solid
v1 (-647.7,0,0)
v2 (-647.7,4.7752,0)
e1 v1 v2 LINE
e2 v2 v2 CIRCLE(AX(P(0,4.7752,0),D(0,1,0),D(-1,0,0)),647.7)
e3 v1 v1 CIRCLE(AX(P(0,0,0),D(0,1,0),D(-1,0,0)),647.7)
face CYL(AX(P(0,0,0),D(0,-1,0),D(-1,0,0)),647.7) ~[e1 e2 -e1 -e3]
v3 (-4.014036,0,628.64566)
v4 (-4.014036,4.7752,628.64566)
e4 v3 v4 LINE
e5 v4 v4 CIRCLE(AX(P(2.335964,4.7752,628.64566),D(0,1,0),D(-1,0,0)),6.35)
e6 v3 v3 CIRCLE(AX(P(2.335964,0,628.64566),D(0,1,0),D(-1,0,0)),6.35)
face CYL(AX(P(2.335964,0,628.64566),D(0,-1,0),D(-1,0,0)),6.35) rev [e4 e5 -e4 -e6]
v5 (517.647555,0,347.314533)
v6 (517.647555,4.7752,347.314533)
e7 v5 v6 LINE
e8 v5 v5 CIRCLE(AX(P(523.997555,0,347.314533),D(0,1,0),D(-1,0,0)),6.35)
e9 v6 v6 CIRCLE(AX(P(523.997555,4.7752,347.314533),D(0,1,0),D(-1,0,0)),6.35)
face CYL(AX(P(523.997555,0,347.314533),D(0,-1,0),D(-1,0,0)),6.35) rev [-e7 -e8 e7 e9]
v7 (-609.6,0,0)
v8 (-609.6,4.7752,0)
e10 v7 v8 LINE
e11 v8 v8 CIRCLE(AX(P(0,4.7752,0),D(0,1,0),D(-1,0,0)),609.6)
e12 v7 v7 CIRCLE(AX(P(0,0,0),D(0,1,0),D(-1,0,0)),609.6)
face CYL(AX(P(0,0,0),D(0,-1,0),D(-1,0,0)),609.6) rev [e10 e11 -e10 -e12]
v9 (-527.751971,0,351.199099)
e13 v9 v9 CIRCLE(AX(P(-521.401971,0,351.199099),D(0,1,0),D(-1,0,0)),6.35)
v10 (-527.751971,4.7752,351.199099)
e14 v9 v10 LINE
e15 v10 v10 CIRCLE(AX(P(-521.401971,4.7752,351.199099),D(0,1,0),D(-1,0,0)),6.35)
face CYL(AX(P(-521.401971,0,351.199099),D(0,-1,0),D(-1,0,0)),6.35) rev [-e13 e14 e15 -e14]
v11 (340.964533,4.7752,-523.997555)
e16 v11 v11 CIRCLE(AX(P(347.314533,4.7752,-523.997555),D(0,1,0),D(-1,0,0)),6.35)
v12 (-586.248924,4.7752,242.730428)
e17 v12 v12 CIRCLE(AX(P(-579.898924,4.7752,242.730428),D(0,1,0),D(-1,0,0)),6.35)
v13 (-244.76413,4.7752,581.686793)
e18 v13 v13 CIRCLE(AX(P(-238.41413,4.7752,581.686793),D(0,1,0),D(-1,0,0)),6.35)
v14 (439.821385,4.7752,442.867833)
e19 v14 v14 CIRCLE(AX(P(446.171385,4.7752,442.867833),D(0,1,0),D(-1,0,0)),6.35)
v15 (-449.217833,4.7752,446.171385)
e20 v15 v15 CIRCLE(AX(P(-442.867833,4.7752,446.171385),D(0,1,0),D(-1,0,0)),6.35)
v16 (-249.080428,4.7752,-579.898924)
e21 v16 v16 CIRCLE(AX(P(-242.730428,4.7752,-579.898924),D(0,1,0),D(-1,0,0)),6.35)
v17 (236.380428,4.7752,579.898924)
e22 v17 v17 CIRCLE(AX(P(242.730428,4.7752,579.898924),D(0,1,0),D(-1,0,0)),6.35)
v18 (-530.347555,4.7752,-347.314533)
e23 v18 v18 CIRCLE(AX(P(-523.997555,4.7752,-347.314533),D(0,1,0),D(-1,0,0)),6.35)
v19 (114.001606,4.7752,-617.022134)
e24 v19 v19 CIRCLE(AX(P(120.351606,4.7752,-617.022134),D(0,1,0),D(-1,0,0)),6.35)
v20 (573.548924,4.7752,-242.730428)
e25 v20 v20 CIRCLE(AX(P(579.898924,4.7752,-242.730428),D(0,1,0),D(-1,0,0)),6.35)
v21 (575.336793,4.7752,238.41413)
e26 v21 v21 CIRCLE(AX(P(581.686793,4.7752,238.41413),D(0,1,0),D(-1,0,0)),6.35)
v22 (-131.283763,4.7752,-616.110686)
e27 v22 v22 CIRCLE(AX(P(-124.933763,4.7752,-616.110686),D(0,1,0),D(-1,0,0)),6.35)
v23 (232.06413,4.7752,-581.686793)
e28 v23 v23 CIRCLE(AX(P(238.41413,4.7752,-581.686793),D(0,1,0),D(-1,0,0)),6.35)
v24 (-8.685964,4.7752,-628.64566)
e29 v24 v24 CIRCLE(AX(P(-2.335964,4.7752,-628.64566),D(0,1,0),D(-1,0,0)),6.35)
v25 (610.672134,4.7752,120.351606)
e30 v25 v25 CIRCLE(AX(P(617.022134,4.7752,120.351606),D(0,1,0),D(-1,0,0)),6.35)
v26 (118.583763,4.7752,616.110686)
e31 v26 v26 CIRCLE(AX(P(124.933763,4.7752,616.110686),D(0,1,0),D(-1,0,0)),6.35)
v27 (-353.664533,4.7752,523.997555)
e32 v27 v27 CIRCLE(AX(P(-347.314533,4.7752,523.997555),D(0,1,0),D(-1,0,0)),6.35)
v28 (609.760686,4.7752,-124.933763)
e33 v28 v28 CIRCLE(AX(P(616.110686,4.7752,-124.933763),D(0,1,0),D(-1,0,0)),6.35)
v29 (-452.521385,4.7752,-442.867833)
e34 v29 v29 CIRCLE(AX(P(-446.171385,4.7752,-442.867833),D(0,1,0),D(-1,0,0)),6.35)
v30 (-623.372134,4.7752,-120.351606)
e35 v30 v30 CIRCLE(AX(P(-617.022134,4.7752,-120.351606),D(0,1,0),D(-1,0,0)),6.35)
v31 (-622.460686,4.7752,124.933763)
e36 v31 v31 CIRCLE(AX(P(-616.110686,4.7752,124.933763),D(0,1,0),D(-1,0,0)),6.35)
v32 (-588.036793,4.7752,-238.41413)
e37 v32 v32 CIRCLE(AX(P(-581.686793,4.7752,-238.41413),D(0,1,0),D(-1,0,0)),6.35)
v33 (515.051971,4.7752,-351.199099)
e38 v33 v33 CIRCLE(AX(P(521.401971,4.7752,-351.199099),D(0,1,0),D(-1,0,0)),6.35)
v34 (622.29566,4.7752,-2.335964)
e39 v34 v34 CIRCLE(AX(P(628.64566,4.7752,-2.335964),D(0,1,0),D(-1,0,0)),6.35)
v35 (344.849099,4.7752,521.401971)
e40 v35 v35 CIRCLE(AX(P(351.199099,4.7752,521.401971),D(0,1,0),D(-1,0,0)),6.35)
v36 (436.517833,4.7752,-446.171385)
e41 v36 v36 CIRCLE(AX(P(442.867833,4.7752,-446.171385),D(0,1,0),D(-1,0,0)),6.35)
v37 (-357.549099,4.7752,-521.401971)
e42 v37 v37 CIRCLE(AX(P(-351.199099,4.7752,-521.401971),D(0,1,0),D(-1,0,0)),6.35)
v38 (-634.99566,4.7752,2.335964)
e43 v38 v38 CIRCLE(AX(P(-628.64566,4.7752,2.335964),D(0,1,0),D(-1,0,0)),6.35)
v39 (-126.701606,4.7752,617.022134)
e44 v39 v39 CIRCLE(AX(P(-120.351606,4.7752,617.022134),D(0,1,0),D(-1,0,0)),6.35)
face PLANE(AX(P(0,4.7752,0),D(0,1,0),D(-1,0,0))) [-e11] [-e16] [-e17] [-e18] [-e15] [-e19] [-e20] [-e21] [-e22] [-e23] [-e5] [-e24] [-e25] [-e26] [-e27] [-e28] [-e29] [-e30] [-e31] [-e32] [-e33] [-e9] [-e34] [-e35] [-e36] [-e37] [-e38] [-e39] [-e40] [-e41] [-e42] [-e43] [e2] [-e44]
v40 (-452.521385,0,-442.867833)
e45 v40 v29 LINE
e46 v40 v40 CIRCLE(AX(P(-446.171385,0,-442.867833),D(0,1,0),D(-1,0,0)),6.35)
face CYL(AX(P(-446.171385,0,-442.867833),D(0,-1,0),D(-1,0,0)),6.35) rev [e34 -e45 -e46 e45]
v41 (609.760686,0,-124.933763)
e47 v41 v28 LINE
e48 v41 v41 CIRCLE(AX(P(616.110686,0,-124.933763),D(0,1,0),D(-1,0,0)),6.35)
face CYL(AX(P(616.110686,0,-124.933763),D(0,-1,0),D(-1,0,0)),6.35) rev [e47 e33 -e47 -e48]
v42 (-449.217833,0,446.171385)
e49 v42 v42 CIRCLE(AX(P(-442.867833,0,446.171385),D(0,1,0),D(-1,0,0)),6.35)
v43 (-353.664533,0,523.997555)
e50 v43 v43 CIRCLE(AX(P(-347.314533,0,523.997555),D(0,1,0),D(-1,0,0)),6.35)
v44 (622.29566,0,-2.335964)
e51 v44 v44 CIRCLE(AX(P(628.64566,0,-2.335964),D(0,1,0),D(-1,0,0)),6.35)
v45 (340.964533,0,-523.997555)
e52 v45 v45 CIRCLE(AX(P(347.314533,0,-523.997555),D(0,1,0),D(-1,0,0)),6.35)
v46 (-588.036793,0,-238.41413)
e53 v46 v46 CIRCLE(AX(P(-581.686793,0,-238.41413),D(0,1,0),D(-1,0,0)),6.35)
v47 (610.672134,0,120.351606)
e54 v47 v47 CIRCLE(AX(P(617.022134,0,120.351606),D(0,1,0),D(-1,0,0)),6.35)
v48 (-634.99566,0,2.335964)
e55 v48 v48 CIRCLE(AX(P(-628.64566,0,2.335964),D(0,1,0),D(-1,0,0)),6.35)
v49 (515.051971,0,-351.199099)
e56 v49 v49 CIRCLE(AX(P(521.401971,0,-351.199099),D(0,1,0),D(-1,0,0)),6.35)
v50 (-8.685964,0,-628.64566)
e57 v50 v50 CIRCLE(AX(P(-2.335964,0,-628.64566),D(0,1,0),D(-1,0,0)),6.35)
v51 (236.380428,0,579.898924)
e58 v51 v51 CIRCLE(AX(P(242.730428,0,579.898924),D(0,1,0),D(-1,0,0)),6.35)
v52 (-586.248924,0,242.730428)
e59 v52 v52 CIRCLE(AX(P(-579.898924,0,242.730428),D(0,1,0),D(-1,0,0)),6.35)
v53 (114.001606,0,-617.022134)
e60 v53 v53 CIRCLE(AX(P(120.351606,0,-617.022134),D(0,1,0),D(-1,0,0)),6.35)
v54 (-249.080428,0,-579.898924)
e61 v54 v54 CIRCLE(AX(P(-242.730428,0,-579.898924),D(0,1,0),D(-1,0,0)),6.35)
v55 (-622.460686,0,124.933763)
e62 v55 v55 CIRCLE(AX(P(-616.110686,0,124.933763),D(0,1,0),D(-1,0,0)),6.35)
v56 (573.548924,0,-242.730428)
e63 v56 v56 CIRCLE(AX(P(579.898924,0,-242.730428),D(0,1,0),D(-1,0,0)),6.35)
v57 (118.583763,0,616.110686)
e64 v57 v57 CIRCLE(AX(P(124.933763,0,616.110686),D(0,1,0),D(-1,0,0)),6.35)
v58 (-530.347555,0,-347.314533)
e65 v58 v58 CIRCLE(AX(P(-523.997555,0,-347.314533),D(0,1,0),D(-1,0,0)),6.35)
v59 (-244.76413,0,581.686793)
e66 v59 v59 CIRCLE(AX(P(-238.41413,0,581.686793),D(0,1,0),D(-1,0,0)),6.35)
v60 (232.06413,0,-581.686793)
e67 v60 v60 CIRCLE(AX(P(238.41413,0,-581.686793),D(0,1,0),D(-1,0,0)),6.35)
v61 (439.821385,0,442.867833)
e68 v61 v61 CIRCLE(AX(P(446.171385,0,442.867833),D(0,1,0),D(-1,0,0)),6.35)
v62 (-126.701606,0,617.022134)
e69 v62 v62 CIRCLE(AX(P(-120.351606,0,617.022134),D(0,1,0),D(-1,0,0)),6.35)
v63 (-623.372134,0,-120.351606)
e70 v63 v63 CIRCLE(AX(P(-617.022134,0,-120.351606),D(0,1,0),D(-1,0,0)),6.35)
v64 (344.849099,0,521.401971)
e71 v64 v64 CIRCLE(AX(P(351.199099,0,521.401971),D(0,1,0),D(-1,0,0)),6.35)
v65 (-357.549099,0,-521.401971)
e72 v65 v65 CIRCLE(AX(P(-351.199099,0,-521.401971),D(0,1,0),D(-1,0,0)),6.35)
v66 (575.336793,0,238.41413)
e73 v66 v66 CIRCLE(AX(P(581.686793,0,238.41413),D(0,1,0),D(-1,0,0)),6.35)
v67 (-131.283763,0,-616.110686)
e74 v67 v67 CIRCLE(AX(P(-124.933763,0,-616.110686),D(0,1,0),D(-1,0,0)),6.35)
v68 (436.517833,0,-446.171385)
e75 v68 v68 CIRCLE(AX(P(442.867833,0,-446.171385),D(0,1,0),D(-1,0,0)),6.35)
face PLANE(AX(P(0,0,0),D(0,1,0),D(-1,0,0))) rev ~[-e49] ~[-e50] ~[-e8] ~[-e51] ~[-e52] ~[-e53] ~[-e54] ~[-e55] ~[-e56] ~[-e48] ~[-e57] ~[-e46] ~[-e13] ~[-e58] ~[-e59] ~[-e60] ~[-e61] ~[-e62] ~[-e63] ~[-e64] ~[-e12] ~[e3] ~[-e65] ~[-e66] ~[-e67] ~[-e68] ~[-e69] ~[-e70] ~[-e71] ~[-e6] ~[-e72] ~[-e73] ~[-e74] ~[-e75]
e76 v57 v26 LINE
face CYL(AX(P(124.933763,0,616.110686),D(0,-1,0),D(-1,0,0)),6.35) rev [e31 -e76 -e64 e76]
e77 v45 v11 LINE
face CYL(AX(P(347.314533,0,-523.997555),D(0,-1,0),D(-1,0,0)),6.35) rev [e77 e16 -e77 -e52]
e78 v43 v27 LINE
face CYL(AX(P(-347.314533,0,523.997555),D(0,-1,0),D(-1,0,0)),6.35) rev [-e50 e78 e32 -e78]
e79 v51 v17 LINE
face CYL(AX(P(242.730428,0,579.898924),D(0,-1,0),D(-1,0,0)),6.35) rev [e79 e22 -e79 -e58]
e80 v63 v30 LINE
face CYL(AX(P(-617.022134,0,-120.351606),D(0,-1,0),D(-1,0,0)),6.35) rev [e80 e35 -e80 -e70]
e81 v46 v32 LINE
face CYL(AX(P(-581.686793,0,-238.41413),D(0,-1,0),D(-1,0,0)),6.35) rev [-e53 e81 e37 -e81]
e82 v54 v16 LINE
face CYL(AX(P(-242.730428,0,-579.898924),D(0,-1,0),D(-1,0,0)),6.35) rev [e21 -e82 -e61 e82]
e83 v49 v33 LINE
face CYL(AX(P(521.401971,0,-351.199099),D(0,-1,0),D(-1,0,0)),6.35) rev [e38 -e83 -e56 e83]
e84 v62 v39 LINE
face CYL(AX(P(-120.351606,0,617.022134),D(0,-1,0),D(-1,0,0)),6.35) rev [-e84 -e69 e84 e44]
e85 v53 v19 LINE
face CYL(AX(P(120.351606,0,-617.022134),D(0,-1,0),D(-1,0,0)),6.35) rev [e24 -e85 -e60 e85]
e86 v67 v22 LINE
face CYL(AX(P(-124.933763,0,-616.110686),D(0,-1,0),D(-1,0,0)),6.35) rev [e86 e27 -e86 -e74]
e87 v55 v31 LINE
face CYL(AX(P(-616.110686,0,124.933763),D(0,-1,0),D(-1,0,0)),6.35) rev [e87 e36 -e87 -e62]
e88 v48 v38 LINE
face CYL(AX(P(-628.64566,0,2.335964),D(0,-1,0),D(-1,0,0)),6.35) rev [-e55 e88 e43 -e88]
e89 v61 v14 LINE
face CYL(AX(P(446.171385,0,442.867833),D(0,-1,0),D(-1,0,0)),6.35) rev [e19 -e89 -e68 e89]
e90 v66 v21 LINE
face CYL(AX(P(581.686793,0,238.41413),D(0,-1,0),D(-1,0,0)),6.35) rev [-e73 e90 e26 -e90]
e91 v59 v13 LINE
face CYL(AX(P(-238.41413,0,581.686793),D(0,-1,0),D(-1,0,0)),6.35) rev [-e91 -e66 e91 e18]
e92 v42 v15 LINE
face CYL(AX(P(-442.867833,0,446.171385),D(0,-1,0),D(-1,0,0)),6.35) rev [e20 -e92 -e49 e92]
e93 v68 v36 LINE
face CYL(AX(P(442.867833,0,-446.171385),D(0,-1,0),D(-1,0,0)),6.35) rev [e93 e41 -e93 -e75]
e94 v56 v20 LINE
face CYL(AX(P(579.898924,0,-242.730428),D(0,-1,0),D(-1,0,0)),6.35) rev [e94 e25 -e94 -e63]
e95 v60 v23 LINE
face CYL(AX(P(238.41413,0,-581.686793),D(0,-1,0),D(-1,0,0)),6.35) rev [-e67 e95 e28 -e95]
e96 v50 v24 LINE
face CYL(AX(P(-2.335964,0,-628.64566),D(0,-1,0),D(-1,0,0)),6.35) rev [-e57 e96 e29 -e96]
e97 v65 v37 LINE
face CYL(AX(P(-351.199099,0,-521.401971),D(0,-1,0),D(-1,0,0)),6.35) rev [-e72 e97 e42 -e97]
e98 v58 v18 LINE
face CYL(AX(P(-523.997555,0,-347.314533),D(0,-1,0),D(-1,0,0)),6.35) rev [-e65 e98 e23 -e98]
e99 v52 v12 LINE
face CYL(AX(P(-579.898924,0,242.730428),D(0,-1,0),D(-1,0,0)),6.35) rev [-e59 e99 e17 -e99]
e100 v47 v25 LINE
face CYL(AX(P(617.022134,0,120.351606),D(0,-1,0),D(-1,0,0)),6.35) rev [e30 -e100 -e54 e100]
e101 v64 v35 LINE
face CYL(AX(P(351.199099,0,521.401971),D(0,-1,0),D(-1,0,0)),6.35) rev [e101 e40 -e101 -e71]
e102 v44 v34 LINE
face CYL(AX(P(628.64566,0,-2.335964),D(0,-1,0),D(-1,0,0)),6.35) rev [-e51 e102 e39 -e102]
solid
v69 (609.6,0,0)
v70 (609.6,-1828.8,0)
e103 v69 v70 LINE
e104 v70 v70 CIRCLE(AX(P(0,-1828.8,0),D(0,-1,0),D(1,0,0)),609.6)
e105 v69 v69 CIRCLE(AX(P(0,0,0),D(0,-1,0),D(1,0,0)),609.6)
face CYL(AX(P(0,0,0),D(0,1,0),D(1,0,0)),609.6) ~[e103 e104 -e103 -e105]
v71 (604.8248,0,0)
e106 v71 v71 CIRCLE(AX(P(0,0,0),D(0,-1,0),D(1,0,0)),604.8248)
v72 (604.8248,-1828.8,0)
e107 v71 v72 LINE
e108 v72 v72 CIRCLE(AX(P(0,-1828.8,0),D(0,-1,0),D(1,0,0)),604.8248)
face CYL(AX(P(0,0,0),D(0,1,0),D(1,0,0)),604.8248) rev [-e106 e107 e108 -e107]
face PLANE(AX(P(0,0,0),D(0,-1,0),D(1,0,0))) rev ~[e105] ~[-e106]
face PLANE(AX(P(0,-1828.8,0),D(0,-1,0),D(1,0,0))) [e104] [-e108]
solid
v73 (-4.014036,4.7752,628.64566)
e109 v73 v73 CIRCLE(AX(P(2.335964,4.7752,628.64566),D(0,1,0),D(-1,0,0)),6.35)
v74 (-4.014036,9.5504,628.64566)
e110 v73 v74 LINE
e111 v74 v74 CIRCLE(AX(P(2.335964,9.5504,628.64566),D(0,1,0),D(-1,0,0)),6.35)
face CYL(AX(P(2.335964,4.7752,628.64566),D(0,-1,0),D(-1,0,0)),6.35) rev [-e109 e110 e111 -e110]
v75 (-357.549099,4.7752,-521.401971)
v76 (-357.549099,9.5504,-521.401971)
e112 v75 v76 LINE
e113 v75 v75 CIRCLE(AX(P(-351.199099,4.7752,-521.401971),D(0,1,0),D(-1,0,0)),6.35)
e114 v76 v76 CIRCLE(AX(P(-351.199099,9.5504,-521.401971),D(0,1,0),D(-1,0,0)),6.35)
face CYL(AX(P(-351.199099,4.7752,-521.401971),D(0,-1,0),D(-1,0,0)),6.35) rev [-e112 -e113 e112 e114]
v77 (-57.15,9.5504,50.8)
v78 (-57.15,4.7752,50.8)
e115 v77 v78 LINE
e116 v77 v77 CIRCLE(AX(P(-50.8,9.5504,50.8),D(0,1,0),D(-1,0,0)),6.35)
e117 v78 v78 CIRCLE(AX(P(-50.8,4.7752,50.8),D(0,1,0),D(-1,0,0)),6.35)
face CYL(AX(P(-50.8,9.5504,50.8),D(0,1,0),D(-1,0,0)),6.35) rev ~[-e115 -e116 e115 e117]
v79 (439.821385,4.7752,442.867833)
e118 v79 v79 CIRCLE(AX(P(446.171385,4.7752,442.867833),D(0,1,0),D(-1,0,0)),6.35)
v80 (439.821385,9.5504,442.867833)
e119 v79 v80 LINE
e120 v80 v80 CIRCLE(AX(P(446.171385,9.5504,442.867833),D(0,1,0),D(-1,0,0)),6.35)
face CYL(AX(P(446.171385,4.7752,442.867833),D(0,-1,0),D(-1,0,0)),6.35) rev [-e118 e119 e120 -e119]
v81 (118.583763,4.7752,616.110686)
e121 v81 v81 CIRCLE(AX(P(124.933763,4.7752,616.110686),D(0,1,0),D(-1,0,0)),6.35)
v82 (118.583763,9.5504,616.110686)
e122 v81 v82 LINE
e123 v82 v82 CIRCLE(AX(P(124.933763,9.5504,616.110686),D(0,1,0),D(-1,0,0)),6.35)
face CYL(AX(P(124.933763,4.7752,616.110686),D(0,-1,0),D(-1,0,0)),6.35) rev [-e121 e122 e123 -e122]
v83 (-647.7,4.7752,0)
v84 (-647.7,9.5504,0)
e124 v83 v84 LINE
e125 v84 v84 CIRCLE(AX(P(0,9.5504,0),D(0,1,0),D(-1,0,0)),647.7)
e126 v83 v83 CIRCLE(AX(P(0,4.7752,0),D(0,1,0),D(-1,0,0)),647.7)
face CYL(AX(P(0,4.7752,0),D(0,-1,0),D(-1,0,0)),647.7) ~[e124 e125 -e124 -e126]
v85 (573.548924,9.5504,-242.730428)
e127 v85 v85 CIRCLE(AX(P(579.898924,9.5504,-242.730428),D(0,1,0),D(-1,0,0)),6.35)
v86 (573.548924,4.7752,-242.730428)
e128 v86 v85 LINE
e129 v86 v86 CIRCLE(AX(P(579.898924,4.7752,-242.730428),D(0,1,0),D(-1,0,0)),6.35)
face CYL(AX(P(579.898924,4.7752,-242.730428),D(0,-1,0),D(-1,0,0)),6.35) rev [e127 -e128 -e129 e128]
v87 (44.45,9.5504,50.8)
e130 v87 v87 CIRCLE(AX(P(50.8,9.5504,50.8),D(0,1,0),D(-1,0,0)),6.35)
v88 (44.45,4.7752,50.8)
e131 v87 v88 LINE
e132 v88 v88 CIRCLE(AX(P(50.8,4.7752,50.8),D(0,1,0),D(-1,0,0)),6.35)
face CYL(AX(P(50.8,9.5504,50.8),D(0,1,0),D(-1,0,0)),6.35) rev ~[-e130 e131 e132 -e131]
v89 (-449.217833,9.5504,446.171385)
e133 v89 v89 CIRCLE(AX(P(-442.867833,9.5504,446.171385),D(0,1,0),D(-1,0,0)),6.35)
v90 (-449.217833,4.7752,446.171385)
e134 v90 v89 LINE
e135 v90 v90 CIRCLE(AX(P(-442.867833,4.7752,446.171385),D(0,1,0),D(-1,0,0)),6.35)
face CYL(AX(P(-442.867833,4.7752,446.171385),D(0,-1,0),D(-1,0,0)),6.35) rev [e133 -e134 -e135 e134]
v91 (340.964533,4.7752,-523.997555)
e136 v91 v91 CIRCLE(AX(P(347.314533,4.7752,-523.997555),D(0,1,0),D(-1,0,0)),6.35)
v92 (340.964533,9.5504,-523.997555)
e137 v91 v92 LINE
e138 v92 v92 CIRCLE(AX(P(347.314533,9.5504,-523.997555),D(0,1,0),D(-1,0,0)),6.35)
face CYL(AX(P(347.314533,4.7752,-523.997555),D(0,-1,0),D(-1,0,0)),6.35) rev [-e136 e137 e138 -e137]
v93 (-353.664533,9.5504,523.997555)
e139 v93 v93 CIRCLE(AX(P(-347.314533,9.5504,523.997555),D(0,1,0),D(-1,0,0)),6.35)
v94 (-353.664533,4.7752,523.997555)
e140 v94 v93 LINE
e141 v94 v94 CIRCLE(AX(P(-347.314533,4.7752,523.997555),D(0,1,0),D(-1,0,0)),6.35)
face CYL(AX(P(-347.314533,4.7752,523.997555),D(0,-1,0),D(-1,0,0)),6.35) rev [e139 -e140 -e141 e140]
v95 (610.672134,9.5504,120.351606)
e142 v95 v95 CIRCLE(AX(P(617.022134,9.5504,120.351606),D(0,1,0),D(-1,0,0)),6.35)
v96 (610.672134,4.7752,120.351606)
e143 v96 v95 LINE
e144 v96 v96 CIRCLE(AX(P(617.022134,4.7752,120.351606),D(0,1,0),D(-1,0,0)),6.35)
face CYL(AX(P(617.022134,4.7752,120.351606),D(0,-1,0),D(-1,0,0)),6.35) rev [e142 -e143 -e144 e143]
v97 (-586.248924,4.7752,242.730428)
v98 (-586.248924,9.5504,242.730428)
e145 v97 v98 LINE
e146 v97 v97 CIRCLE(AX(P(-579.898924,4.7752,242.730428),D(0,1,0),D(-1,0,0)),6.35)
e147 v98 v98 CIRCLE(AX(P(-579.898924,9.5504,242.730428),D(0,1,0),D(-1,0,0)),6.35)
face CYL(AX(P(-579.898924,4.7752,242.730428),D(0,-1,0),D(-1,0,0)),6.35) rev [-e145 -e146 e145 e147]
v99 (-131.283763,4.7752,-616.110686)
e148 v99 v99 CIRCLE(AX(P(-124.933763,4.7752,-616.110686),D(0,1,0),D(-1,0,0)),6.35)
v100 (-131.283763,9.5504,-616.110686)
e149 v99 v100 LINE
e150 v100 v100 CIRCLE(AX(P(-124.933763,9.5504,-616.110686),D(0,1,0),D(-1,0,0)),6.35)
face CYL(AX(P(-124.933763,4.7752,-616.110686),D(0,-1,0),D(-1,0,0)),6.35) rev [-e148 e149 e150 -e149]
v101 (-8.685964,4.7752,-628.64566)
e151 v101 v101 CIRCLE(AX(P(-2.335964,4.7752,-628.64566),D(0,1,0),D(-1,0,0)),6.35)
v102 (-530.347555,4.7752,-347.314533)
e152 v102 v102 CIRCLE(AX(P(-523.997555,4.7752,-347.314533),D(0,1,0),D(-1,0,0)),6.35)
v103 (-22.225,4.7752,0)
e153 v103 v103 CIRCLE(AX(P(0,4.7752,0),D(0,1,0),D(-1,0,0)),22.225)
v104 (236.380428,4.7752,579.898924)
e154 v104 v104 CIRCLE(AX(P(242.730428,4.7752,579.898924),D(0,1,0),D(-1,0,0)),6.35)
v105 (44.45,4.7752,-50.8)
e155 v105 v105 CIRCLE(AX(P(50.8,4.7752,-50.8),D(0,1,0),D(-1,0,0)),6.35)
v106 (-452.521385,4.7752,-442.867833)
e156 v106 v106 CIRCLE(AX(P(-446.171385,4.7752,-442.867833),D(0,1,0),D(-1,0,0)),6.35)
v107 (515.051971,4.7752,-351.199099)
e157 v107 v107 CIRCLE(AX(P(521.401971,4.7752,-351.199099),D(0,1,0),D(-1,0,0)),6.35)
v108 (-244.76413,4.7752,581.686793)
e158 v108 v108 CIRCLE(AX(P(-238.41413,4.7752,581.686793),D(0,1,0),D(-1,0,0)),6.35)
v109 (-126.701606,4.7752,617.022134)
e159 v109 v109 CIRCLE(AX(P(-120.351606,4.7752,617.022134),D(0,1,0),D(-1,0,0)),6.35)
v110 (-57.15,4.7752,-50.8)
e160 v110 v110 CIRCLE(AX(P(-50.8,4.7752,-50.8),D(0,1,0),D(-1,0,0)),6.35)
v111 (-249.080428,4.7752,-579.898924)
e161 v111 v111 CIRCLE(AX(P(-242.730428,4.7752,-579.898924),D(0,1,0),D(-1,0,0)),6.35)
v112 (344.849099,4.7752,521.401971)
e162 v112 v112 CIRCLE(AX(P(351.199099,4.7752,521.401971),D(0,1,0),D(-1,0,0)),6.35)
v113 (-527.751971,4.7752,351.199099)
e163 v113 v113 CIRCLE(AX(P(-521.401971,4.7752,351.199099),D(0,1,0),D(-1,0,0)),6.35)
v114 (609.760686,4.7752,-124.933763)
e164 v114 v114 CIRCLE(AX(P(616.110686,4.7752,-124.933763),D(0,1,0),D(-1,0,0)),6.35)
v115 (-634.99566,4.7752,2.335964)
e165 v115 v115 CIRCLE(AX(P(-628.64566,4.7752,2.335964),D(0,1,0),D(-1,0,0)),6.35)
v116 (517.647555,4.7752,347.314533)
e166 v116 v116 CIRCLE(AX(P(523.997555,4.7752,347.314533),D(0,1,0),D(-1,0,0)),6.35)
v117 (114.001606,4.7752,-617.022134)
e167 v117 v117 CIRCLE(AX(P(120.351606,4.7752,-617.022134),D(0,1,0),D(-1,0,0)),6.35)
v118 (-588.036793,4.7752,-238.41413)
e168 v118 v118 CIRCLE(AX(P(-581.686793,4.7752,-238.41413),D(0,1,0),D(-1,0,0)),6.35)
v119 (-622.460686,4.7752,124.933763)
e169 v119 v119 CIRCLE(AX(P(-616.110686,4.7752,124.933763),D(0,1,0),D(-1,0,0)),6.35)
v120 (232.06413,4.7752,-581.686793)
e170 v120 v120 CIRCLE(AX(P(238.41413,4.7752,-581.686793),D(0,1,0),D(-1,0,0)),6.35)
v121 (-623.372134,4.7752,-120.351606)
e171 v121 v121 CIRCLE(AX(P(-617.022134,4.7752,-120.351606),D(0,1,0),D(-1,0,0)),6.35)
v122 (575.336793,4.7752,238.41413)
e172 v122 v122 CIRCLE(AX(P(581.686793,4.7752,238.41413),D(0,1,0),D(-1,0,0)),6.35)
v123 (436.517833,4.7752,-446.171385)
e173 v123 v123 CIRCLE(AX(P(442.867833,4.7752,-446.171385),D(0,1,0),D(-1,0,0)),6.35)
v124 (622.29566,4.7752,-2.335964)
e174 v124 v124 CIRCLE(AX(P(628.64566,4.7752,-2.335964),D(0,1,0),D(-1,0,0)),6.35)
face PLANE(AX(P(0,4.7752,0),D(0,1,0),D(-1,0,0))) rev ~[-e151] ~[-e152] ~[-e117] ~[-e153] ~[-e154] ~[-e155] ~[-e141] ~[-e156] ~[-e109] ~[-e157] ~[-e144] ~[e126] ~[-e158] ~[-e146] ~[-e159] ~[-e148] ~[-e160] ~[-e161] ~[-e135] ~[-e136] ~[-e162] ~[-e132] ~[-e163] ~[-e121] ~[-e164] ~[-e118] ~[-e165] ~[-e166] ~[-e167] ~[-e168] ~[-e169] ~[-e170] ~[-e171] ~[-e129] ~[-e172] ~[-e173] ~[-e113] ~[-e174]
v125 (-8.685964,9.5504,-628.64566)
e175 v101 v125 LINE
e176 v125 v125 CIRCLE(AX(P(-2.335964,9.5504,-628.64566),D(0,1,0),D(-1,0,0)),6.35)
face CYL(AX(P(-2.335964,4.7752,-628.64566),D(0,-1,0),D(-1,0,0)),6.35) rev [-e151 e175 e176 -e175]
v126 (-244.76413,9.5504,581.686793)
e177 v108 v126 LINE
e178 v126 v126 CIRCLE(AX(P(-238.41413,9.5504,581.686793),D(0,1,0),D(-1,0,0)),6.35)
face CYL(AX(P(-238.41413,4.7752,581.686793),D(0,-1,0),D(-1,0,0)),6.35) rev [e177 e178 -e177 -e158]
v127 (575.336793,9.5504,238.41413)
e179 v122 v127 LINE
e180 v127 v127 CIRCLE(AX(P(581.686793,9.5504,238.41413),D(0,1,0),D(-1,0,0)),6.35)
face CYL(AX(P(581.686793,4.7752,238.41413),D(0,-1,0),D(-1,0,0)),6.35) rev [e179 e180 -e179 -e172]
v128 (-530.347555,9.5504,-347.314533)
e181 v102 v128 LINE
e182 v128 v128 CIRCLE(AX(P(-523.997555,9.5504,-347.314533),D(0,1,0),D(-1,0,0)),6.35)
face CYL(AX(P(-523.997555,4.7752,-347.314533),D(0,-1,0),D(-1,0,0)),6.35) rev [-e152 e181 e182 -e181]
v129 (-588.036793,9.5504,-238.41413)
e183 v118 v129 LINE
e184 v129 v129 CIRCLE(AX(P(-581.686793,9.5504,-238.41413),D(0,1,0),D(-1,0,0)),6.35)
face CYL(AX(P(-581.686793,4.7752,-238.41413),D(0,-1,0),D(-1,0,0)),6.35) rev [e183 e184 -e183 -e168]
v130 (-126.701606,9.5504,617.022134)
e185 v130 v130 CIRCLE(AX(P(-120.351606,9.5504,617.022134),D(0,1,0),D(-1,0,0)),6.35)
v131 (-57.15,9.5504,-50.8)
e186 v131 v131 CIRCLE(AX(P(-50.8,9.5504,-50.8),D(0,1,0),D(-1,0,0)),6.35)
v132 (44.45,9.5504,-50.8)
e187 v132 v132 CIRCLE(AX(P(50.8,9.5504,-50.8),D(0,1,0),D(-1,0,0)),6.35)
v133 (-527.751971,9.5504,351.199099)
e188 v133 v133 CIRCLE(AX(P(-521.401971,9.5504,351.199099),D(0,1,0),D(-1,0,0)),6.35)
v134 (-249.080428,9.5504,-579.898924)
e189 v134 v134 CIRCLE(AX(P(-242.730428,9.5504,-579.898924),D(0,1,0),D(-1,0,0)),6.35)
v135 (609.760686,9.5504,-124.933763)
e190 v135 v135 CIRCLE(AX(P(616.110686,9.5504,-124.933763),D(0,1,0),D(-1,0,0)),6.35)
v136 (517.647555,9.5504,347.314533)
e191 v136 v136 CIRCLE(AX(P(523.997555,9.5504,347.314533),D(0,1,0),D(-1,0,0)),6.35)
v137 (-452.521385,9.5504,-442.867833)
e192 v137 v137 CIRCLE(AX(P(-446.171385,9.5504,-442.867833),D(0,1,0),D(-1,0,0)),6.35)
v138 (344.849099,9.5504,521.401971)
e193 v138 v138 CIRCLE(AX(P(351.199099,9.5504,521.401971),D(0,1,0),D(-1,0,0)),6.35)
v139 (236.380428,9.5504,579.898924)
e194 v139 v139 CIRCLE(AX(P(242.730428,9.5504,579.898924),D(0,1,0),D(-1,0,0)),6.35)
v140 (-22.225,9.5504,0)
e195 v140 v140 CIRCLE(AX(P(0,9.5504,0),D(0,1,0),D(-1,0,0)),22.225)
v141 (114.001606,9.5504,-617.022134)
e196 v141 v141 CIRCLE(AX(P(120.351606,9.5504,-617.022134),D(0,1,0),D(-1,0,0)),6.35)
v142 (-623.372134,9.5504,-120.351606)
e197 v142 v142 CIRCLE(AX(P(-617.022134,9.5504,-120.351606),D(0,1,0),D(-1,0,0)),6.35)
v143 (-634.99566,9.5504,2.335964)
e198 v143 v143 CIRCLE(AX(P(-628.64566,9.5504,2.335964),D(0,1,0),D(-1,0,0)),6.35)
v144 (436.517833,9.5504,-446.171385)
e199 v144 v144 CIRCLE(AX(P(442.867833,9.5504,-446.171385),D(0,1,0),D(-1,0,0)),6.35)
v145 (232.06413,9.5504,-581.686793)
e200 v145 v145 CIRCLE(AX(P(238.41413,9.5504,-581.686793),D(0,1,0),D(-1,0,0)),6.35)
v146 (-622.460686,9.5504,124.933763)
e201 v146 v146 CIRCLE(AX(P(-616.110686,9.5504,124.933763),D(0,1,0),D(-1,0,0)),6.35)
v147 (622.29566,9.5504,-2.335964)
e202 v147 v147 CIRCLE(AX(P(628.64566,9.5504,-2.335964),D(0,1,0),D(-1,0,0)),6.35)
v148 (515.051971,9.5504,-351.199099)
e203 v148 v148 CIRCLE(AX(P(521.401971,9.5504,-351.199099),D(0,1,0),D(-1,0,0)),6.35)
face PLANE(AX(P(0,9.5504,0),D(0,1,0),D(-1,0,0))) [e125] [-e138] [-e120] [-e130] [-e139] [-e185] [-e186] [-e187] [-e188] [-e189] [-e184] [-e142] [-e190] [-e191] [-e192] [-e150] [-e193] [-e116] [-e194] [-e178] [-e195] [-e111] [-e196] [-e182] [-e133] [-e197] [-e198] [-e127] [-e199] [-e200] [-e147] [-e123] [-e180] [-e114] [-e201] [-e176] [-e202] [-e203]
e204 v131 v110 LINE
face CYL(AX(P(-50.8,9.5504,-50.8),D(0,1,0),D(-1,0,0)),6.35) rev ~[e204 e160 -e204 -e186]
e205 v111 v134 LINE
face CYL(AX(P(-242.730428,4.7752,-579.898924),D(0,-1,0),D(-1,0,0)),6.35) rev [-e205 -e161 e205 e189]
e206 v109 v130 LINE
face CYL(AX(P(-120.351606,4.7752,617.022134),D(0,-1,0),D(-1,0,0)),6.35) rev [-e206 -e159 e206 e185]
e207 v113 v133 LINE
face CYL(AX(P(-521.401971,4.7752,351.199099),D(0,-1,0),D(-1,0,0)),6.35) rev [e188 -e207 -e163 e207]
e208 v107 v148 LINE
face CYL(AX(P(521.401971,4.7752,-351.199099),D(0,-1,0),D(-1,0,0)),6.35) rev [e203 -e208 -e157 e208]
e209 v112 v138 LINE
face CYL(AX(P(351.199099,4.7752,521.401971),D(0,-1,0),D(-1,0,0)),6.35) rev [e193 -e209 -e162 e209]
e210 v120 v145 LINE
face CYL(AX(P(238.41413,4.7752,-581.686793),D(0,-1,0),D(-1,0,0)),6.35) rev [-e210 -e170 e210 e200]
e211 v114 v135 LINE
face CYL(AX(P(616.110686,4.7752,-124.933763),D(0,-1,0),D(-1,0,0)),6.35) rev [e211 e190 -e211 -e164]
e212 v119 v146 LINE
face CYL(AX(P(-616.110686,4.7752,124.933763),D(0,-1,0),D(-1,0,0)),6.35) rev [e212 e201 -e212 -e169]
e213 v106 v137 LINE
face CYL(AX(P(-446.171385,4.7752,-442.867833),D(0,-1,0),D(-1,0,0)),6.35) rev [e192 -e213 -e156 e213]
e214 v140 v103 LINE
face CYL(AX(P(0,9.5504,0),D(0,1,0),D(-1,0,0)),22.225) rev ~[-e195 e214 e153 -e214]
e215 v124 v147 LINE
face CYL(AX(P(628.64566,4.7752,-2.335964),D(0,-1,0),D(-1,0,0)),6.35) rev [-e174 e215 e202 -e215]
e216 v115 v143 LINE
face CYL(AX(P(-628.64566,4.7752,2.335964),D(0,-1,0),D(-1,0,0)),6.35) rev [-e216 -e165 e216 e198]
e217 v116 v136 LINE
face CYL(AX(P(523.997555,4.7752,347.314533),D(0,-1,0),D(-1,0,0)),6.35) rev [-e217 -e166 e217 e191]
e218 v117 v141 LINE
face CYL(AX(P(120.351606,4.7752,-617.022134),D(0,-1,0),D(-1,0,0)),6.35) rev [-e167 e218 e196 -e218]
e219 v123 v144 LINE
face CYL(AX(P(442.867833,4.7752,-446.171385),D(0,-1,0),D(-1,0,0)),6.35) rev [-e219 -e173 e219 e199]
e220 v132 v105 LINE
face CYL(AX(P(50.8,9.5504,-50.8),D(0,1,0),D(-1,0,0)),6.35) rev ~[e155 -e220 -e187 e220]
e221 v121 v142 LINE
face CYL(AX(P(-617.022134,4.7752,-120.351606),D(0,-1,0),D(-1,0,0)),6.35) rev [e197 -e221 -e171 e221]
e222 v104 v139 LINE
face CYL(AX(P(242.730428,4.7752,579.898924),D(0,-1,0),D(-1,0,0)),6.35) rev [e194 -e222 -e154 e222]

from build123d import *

# Parameters (mm, degrees)
F0_R     = 609.6
F0_R_2   = 604.8248
F1_DEPTH = 1828.8
F2_R     = 647.7
F2_R_2   = 6.35
F2_R_3   = 609.6
F3_DEPTH = 4.7752
F4_R     = 647.7
F4_R_2   = 6.35
F5_DEPTH = 4.7752
F6_R     = 22.225
F6_R_2   = 6.35
F7_DEPTH = 25.4


with BuildPart() as f1:
    # F0 (on Front) → F1 (new body)
    with BuildSketch(Plane.XZ):
        Circle(F0_R)
        Circle(F0_R_2, mode=Mode.SUBTRACT)
    extrude(amount=F1_DEPTH)


with BuildPart() as f3:
    # F2 (on face) → F3 (new body)
    with BuildSketch(Plane(origin=(0, 0, 0), x_dir=(-1, 0, 0), z_dir=(0, 1, 0))):
        Circle(F2_R)
        with Locations((-347.314533, -523.997555)):
            Circle(F2_R_2, mode=Mode.SUBTRACT)
        with Locations((-521.401971, -351.199099)):
            Circle(F2_R_2, mode=Mode.SUBTRACT)
        with Locations((-442.867833, -446.171385)):
            Circle(F2_R_2, mode=Mode.SUBTRACT)
        with Locations((-238.41413, -581.686793)):
            Circle(F2_R_2, mode=Mode.SUBTRACT)
        with Locations((-120.351606, -617.022134)):
            Circle(F2_R_2, mode=Mode.SUBTRACT)
        with Locations((-579.898924, -242.730428)):
            Circle(F2_R_2, mode=Mode.SUBTRACT)
        with Locations((-616.110686, -124.933763)):
            Circle(F2_R_2, mode=Mode.SUBTRACT)
        with Locations((-628.64566, -2.335964)):
            Circle(F2_R_2, mode=Mode.SUBTRACT)
        with Locations((2.335964, -628.64566)):
            Circle(F2_R_2, mode=Mode.SUBTRACT)
        with Locations((124.933763, -616.110686)):
            Circle(F2_R_2, mode=Mode.SUBTRACT)
        with Locations((242.730428, -579.898924)):
            Circle(F2_R_2, mode=Mode.SUBTRACT)
        with Locations((351.199099, -521.401971)):
            Circle(F2_R_2, mode=Mode.SUBTRACT)
        with Locations((446.171385, -442.867833)):
            Circle(F2_R_2, mode=Mode.SUBTRACT)
        with Locations((523.997555, -347.314533)):
            Circle(F2_R_2, mode=Mode.SUBTRACT)
        with Locations((581.686793, -238.41413)):
            Circle(F2_R_2, mode=Mode.SUBTRACT)
        with Locations((617.022134, -120.351606)):
            Circle(F2_R_2, mode=Mode.SUBTRACT)
        with Locations((-617.022134, 120.351606)):
            Circle(F2_R_2, mode=Mode.SUBTRACT)
        with Locations((-581.686793, 238.41413)):
            Circle(F2_R_2, mode=Mode.SUBTRACT)
        with Locations((-523.997555, 347.314533)):
            Circle(F2_R_2, mode=Mode.SUBTRACT)
        with Locations((-446.171385, 442.867833)):
            Circle(F2_R_2, mode=Mode.SUBTRACT)
        with Locations((-351.199099, 521.401971)):
            Circle(F2_R_2, mode=Mode.SUBTRACT)
        with Locations((-242.730428, 579.898924)):
            Circle(F2_R_2, mode=Mode.SUBTRACT)
        with Locations((-124.933763, 616.110686)):
            Circle(F2_R_2, mode=Mode.SUBTRACT)
        with Locations((-2.335964, 628.64566)):
            Circle(F2_R_2, mode=Mode.SUBTRACT)
        Circle(F2_R_3, mode=Mode.SUBTRACT)
        with Locations((628.64566, 2.335964)):
            Circle(F2_R_2, mode=Mode.SUBTRACT)
        with Locations((616.110686, 124.933763)):
            Circle(F2_R_2, mode=Mode.SUBTRACT)
        with Locations((579.898924, 242.730428)):
            Circle(F2_R_2, mode=Mode.SUBTRACT)
        with Locations((120.351606, 617.022134)):
            Circle(F2_R_2, mode=Mode.SUBTRACT)
        with Locations((238.41413, 581.686793)):
            Circle(F2_R_2, mode=Mode.SUBTRACT)
        with Locations((442.867833, 446.171385)):
            Circle(F2_R_2, mode=Mode.SUBTRACT)
        with Locations((521.401971, 351.199099)):
            Circle(F2_R_2, mode=Mode.SUBTRACT)
        with Locations((347.314533, 523.997555)):
            Circle(F2_R_2, mode=Mode.SUBTRACT)
    extrude(amount=F3_DEPTH)


with BuildPart() as f5:
    # F4 (on face) → F5 (new body)
    with BuildSketch(Plane(origin=(0, 4.7752, 0), x_dir=(-1, 0, 0), z_dir=(0, 1, 0))):
        Circle(F4_R)
        with Locations((-347.314533, -523.997555)):
            Circle(F4_R_2, mode=Mode.SUBTRACT)
        with Locations((-521.401971, -351.199099)):
            Circle(F4_R_2, mode=Mode.SUBTRACT)
        with Locations((-442.867833, -446.171385)):
            Circle(F4_R_2, mode=Mode.SUBTRACT)
        with Locations((-238.41413, -581.686793)):
            Circle(F4_R_2, mode=Mode.SUBTRACT)
        with Locations((-120.351606, -617.022134)):
            Circle(F4_R_2, mode=Mode.SUBTRACT)
        with Locations((-579.898924, -242.730428)):
            Circle(F4_R_2, mode=Mode.SUBTRACT)
        with Locations((-616.110686, -124.933763)):
            Circle(F4_R_2, mode=Mode.SUBTRACT)
        with Locations((-628.64566, -2.335964)):
            Circle(F4_R_2, mode=Mode.SUBTRACT)
        with Locations((2.335964, -628.64566)):
            Circle(F4_R_2, mode=Mode.SUBTRACT)
        with Locations((124.933763, -616.110686)):
            Circle(F4_R_2, mode=Mode.SUBTRACT)
        with Locations((242.730428, -579.898924)):
            Circle(F4_R_2, mode=Mode.SUBTRACT)
        with Locations((351.199099, -521.401971)):
            Circle(F4_R_2, mode=Mode.SUBTRACT)
        with Locations((446.171385, -442.867833)):
            Circle(F4_R_2, mode=Mode.SUBTRACT)
        with Locations((523.997555, -347.314533)):
            Circle(F4_R_2, mode=Mode.SUBTRACT)
        with Locations((581.686793, -238.41413)):
            Circle(F4_R_2, mode=Mode.SUBTRACT)
        with Locations((617.022134, -120.351606)):
            Circle(F4_R_2, mode=Mode.SUBTRACT)
        with Locations((-617.022134, 120.351606)):
            Circle(F4_R_2, mode=Mode.SUBTRACT)
        with Locations((-581.686793, 238.41413)):
            Circle(F4_R_2, mode=Mode.SUBTRACT)
        with Locations((-523.997555, 347.314533)):
            Circle(F4_R_2, mode=Mode.SUBTRACT)
        with Locations((-446.171385, 442.867833)):
            Circle(F4_R_2, mode=Mode.SUBTRACT)
        with Locations((-351.199099, 521.401971)):
            Circle(F4_R_2, mode=Mode.SUBTRACT)
        with Locations((-242.730428, 579.898924)):
            Circle(F4_R_2, mode=Mode.SUBTRACT)
        with Locations((-124.933763, 616.110686)):
            Circle(F4_R_2, mode=Mode.SUBTRACT)
        with Locations((-2.335964, 628.64566)):
            Circle(F4_R_2, mode=Mode.SUBTRACT)
        with Locations((628.64566, 2.335964)):
            Circle(F4_R_2, mode=Mode.SUBTRACT)
        with Locations((616.110686, 124.933763)):
            Circle(F4_R_2, mode=Mode.SUBTRACT)
        with Locations((579.898924, 242.730428)):
            Circle(F4_R_2, mode=Mode.SUBTRACT)
        with Locations((120.351606, 617.022134)):
            Circle(F4_R_2, mode=Mode.SUBTRACT)
        with Locations((238.41413, 581.686793)):
            Circle(F4_R_2, mode=Mode.SUBTRACT)
        with Locations((442.867833, 446.171385)):
            Circle(F4_R_2, mode=Mode.SUBTRACT)
        with Locations((521.401971, 351.199099)):
            Circle(F4_R_2, mode=Mode.SUBTRACT)
        with Locations((347.314533, 523.997555)):
            Circle(F4_R_2, mode=Mode.SUBTRACT)
    extrude(amount=F5_DEPTH)

    # F6 (on face) → F7 (cut)
    with BuildSketch(Plane(origin=(0, 9.5504, 0), x_dir=(-1, 0, 0), z_dir=(0, 1, 0))):
        Circle(F6_R)
        with Locations((50.8, 50.8)):
            Circle(F6_R_2)
        with Locations((-50.8, 50.8)):
            Circle(F6_R_2)
        with Locations((-50.8, -50.8)):
            Circle(F6_R_2)
        with Locations((50.8, -50.8)):
            Circle(F6_R_2)
    extrude(amount=-F7_DEPTH, mode=Mode.SUBTRACT)


solid = Compound([f1.part, f3.part, f5.part])
